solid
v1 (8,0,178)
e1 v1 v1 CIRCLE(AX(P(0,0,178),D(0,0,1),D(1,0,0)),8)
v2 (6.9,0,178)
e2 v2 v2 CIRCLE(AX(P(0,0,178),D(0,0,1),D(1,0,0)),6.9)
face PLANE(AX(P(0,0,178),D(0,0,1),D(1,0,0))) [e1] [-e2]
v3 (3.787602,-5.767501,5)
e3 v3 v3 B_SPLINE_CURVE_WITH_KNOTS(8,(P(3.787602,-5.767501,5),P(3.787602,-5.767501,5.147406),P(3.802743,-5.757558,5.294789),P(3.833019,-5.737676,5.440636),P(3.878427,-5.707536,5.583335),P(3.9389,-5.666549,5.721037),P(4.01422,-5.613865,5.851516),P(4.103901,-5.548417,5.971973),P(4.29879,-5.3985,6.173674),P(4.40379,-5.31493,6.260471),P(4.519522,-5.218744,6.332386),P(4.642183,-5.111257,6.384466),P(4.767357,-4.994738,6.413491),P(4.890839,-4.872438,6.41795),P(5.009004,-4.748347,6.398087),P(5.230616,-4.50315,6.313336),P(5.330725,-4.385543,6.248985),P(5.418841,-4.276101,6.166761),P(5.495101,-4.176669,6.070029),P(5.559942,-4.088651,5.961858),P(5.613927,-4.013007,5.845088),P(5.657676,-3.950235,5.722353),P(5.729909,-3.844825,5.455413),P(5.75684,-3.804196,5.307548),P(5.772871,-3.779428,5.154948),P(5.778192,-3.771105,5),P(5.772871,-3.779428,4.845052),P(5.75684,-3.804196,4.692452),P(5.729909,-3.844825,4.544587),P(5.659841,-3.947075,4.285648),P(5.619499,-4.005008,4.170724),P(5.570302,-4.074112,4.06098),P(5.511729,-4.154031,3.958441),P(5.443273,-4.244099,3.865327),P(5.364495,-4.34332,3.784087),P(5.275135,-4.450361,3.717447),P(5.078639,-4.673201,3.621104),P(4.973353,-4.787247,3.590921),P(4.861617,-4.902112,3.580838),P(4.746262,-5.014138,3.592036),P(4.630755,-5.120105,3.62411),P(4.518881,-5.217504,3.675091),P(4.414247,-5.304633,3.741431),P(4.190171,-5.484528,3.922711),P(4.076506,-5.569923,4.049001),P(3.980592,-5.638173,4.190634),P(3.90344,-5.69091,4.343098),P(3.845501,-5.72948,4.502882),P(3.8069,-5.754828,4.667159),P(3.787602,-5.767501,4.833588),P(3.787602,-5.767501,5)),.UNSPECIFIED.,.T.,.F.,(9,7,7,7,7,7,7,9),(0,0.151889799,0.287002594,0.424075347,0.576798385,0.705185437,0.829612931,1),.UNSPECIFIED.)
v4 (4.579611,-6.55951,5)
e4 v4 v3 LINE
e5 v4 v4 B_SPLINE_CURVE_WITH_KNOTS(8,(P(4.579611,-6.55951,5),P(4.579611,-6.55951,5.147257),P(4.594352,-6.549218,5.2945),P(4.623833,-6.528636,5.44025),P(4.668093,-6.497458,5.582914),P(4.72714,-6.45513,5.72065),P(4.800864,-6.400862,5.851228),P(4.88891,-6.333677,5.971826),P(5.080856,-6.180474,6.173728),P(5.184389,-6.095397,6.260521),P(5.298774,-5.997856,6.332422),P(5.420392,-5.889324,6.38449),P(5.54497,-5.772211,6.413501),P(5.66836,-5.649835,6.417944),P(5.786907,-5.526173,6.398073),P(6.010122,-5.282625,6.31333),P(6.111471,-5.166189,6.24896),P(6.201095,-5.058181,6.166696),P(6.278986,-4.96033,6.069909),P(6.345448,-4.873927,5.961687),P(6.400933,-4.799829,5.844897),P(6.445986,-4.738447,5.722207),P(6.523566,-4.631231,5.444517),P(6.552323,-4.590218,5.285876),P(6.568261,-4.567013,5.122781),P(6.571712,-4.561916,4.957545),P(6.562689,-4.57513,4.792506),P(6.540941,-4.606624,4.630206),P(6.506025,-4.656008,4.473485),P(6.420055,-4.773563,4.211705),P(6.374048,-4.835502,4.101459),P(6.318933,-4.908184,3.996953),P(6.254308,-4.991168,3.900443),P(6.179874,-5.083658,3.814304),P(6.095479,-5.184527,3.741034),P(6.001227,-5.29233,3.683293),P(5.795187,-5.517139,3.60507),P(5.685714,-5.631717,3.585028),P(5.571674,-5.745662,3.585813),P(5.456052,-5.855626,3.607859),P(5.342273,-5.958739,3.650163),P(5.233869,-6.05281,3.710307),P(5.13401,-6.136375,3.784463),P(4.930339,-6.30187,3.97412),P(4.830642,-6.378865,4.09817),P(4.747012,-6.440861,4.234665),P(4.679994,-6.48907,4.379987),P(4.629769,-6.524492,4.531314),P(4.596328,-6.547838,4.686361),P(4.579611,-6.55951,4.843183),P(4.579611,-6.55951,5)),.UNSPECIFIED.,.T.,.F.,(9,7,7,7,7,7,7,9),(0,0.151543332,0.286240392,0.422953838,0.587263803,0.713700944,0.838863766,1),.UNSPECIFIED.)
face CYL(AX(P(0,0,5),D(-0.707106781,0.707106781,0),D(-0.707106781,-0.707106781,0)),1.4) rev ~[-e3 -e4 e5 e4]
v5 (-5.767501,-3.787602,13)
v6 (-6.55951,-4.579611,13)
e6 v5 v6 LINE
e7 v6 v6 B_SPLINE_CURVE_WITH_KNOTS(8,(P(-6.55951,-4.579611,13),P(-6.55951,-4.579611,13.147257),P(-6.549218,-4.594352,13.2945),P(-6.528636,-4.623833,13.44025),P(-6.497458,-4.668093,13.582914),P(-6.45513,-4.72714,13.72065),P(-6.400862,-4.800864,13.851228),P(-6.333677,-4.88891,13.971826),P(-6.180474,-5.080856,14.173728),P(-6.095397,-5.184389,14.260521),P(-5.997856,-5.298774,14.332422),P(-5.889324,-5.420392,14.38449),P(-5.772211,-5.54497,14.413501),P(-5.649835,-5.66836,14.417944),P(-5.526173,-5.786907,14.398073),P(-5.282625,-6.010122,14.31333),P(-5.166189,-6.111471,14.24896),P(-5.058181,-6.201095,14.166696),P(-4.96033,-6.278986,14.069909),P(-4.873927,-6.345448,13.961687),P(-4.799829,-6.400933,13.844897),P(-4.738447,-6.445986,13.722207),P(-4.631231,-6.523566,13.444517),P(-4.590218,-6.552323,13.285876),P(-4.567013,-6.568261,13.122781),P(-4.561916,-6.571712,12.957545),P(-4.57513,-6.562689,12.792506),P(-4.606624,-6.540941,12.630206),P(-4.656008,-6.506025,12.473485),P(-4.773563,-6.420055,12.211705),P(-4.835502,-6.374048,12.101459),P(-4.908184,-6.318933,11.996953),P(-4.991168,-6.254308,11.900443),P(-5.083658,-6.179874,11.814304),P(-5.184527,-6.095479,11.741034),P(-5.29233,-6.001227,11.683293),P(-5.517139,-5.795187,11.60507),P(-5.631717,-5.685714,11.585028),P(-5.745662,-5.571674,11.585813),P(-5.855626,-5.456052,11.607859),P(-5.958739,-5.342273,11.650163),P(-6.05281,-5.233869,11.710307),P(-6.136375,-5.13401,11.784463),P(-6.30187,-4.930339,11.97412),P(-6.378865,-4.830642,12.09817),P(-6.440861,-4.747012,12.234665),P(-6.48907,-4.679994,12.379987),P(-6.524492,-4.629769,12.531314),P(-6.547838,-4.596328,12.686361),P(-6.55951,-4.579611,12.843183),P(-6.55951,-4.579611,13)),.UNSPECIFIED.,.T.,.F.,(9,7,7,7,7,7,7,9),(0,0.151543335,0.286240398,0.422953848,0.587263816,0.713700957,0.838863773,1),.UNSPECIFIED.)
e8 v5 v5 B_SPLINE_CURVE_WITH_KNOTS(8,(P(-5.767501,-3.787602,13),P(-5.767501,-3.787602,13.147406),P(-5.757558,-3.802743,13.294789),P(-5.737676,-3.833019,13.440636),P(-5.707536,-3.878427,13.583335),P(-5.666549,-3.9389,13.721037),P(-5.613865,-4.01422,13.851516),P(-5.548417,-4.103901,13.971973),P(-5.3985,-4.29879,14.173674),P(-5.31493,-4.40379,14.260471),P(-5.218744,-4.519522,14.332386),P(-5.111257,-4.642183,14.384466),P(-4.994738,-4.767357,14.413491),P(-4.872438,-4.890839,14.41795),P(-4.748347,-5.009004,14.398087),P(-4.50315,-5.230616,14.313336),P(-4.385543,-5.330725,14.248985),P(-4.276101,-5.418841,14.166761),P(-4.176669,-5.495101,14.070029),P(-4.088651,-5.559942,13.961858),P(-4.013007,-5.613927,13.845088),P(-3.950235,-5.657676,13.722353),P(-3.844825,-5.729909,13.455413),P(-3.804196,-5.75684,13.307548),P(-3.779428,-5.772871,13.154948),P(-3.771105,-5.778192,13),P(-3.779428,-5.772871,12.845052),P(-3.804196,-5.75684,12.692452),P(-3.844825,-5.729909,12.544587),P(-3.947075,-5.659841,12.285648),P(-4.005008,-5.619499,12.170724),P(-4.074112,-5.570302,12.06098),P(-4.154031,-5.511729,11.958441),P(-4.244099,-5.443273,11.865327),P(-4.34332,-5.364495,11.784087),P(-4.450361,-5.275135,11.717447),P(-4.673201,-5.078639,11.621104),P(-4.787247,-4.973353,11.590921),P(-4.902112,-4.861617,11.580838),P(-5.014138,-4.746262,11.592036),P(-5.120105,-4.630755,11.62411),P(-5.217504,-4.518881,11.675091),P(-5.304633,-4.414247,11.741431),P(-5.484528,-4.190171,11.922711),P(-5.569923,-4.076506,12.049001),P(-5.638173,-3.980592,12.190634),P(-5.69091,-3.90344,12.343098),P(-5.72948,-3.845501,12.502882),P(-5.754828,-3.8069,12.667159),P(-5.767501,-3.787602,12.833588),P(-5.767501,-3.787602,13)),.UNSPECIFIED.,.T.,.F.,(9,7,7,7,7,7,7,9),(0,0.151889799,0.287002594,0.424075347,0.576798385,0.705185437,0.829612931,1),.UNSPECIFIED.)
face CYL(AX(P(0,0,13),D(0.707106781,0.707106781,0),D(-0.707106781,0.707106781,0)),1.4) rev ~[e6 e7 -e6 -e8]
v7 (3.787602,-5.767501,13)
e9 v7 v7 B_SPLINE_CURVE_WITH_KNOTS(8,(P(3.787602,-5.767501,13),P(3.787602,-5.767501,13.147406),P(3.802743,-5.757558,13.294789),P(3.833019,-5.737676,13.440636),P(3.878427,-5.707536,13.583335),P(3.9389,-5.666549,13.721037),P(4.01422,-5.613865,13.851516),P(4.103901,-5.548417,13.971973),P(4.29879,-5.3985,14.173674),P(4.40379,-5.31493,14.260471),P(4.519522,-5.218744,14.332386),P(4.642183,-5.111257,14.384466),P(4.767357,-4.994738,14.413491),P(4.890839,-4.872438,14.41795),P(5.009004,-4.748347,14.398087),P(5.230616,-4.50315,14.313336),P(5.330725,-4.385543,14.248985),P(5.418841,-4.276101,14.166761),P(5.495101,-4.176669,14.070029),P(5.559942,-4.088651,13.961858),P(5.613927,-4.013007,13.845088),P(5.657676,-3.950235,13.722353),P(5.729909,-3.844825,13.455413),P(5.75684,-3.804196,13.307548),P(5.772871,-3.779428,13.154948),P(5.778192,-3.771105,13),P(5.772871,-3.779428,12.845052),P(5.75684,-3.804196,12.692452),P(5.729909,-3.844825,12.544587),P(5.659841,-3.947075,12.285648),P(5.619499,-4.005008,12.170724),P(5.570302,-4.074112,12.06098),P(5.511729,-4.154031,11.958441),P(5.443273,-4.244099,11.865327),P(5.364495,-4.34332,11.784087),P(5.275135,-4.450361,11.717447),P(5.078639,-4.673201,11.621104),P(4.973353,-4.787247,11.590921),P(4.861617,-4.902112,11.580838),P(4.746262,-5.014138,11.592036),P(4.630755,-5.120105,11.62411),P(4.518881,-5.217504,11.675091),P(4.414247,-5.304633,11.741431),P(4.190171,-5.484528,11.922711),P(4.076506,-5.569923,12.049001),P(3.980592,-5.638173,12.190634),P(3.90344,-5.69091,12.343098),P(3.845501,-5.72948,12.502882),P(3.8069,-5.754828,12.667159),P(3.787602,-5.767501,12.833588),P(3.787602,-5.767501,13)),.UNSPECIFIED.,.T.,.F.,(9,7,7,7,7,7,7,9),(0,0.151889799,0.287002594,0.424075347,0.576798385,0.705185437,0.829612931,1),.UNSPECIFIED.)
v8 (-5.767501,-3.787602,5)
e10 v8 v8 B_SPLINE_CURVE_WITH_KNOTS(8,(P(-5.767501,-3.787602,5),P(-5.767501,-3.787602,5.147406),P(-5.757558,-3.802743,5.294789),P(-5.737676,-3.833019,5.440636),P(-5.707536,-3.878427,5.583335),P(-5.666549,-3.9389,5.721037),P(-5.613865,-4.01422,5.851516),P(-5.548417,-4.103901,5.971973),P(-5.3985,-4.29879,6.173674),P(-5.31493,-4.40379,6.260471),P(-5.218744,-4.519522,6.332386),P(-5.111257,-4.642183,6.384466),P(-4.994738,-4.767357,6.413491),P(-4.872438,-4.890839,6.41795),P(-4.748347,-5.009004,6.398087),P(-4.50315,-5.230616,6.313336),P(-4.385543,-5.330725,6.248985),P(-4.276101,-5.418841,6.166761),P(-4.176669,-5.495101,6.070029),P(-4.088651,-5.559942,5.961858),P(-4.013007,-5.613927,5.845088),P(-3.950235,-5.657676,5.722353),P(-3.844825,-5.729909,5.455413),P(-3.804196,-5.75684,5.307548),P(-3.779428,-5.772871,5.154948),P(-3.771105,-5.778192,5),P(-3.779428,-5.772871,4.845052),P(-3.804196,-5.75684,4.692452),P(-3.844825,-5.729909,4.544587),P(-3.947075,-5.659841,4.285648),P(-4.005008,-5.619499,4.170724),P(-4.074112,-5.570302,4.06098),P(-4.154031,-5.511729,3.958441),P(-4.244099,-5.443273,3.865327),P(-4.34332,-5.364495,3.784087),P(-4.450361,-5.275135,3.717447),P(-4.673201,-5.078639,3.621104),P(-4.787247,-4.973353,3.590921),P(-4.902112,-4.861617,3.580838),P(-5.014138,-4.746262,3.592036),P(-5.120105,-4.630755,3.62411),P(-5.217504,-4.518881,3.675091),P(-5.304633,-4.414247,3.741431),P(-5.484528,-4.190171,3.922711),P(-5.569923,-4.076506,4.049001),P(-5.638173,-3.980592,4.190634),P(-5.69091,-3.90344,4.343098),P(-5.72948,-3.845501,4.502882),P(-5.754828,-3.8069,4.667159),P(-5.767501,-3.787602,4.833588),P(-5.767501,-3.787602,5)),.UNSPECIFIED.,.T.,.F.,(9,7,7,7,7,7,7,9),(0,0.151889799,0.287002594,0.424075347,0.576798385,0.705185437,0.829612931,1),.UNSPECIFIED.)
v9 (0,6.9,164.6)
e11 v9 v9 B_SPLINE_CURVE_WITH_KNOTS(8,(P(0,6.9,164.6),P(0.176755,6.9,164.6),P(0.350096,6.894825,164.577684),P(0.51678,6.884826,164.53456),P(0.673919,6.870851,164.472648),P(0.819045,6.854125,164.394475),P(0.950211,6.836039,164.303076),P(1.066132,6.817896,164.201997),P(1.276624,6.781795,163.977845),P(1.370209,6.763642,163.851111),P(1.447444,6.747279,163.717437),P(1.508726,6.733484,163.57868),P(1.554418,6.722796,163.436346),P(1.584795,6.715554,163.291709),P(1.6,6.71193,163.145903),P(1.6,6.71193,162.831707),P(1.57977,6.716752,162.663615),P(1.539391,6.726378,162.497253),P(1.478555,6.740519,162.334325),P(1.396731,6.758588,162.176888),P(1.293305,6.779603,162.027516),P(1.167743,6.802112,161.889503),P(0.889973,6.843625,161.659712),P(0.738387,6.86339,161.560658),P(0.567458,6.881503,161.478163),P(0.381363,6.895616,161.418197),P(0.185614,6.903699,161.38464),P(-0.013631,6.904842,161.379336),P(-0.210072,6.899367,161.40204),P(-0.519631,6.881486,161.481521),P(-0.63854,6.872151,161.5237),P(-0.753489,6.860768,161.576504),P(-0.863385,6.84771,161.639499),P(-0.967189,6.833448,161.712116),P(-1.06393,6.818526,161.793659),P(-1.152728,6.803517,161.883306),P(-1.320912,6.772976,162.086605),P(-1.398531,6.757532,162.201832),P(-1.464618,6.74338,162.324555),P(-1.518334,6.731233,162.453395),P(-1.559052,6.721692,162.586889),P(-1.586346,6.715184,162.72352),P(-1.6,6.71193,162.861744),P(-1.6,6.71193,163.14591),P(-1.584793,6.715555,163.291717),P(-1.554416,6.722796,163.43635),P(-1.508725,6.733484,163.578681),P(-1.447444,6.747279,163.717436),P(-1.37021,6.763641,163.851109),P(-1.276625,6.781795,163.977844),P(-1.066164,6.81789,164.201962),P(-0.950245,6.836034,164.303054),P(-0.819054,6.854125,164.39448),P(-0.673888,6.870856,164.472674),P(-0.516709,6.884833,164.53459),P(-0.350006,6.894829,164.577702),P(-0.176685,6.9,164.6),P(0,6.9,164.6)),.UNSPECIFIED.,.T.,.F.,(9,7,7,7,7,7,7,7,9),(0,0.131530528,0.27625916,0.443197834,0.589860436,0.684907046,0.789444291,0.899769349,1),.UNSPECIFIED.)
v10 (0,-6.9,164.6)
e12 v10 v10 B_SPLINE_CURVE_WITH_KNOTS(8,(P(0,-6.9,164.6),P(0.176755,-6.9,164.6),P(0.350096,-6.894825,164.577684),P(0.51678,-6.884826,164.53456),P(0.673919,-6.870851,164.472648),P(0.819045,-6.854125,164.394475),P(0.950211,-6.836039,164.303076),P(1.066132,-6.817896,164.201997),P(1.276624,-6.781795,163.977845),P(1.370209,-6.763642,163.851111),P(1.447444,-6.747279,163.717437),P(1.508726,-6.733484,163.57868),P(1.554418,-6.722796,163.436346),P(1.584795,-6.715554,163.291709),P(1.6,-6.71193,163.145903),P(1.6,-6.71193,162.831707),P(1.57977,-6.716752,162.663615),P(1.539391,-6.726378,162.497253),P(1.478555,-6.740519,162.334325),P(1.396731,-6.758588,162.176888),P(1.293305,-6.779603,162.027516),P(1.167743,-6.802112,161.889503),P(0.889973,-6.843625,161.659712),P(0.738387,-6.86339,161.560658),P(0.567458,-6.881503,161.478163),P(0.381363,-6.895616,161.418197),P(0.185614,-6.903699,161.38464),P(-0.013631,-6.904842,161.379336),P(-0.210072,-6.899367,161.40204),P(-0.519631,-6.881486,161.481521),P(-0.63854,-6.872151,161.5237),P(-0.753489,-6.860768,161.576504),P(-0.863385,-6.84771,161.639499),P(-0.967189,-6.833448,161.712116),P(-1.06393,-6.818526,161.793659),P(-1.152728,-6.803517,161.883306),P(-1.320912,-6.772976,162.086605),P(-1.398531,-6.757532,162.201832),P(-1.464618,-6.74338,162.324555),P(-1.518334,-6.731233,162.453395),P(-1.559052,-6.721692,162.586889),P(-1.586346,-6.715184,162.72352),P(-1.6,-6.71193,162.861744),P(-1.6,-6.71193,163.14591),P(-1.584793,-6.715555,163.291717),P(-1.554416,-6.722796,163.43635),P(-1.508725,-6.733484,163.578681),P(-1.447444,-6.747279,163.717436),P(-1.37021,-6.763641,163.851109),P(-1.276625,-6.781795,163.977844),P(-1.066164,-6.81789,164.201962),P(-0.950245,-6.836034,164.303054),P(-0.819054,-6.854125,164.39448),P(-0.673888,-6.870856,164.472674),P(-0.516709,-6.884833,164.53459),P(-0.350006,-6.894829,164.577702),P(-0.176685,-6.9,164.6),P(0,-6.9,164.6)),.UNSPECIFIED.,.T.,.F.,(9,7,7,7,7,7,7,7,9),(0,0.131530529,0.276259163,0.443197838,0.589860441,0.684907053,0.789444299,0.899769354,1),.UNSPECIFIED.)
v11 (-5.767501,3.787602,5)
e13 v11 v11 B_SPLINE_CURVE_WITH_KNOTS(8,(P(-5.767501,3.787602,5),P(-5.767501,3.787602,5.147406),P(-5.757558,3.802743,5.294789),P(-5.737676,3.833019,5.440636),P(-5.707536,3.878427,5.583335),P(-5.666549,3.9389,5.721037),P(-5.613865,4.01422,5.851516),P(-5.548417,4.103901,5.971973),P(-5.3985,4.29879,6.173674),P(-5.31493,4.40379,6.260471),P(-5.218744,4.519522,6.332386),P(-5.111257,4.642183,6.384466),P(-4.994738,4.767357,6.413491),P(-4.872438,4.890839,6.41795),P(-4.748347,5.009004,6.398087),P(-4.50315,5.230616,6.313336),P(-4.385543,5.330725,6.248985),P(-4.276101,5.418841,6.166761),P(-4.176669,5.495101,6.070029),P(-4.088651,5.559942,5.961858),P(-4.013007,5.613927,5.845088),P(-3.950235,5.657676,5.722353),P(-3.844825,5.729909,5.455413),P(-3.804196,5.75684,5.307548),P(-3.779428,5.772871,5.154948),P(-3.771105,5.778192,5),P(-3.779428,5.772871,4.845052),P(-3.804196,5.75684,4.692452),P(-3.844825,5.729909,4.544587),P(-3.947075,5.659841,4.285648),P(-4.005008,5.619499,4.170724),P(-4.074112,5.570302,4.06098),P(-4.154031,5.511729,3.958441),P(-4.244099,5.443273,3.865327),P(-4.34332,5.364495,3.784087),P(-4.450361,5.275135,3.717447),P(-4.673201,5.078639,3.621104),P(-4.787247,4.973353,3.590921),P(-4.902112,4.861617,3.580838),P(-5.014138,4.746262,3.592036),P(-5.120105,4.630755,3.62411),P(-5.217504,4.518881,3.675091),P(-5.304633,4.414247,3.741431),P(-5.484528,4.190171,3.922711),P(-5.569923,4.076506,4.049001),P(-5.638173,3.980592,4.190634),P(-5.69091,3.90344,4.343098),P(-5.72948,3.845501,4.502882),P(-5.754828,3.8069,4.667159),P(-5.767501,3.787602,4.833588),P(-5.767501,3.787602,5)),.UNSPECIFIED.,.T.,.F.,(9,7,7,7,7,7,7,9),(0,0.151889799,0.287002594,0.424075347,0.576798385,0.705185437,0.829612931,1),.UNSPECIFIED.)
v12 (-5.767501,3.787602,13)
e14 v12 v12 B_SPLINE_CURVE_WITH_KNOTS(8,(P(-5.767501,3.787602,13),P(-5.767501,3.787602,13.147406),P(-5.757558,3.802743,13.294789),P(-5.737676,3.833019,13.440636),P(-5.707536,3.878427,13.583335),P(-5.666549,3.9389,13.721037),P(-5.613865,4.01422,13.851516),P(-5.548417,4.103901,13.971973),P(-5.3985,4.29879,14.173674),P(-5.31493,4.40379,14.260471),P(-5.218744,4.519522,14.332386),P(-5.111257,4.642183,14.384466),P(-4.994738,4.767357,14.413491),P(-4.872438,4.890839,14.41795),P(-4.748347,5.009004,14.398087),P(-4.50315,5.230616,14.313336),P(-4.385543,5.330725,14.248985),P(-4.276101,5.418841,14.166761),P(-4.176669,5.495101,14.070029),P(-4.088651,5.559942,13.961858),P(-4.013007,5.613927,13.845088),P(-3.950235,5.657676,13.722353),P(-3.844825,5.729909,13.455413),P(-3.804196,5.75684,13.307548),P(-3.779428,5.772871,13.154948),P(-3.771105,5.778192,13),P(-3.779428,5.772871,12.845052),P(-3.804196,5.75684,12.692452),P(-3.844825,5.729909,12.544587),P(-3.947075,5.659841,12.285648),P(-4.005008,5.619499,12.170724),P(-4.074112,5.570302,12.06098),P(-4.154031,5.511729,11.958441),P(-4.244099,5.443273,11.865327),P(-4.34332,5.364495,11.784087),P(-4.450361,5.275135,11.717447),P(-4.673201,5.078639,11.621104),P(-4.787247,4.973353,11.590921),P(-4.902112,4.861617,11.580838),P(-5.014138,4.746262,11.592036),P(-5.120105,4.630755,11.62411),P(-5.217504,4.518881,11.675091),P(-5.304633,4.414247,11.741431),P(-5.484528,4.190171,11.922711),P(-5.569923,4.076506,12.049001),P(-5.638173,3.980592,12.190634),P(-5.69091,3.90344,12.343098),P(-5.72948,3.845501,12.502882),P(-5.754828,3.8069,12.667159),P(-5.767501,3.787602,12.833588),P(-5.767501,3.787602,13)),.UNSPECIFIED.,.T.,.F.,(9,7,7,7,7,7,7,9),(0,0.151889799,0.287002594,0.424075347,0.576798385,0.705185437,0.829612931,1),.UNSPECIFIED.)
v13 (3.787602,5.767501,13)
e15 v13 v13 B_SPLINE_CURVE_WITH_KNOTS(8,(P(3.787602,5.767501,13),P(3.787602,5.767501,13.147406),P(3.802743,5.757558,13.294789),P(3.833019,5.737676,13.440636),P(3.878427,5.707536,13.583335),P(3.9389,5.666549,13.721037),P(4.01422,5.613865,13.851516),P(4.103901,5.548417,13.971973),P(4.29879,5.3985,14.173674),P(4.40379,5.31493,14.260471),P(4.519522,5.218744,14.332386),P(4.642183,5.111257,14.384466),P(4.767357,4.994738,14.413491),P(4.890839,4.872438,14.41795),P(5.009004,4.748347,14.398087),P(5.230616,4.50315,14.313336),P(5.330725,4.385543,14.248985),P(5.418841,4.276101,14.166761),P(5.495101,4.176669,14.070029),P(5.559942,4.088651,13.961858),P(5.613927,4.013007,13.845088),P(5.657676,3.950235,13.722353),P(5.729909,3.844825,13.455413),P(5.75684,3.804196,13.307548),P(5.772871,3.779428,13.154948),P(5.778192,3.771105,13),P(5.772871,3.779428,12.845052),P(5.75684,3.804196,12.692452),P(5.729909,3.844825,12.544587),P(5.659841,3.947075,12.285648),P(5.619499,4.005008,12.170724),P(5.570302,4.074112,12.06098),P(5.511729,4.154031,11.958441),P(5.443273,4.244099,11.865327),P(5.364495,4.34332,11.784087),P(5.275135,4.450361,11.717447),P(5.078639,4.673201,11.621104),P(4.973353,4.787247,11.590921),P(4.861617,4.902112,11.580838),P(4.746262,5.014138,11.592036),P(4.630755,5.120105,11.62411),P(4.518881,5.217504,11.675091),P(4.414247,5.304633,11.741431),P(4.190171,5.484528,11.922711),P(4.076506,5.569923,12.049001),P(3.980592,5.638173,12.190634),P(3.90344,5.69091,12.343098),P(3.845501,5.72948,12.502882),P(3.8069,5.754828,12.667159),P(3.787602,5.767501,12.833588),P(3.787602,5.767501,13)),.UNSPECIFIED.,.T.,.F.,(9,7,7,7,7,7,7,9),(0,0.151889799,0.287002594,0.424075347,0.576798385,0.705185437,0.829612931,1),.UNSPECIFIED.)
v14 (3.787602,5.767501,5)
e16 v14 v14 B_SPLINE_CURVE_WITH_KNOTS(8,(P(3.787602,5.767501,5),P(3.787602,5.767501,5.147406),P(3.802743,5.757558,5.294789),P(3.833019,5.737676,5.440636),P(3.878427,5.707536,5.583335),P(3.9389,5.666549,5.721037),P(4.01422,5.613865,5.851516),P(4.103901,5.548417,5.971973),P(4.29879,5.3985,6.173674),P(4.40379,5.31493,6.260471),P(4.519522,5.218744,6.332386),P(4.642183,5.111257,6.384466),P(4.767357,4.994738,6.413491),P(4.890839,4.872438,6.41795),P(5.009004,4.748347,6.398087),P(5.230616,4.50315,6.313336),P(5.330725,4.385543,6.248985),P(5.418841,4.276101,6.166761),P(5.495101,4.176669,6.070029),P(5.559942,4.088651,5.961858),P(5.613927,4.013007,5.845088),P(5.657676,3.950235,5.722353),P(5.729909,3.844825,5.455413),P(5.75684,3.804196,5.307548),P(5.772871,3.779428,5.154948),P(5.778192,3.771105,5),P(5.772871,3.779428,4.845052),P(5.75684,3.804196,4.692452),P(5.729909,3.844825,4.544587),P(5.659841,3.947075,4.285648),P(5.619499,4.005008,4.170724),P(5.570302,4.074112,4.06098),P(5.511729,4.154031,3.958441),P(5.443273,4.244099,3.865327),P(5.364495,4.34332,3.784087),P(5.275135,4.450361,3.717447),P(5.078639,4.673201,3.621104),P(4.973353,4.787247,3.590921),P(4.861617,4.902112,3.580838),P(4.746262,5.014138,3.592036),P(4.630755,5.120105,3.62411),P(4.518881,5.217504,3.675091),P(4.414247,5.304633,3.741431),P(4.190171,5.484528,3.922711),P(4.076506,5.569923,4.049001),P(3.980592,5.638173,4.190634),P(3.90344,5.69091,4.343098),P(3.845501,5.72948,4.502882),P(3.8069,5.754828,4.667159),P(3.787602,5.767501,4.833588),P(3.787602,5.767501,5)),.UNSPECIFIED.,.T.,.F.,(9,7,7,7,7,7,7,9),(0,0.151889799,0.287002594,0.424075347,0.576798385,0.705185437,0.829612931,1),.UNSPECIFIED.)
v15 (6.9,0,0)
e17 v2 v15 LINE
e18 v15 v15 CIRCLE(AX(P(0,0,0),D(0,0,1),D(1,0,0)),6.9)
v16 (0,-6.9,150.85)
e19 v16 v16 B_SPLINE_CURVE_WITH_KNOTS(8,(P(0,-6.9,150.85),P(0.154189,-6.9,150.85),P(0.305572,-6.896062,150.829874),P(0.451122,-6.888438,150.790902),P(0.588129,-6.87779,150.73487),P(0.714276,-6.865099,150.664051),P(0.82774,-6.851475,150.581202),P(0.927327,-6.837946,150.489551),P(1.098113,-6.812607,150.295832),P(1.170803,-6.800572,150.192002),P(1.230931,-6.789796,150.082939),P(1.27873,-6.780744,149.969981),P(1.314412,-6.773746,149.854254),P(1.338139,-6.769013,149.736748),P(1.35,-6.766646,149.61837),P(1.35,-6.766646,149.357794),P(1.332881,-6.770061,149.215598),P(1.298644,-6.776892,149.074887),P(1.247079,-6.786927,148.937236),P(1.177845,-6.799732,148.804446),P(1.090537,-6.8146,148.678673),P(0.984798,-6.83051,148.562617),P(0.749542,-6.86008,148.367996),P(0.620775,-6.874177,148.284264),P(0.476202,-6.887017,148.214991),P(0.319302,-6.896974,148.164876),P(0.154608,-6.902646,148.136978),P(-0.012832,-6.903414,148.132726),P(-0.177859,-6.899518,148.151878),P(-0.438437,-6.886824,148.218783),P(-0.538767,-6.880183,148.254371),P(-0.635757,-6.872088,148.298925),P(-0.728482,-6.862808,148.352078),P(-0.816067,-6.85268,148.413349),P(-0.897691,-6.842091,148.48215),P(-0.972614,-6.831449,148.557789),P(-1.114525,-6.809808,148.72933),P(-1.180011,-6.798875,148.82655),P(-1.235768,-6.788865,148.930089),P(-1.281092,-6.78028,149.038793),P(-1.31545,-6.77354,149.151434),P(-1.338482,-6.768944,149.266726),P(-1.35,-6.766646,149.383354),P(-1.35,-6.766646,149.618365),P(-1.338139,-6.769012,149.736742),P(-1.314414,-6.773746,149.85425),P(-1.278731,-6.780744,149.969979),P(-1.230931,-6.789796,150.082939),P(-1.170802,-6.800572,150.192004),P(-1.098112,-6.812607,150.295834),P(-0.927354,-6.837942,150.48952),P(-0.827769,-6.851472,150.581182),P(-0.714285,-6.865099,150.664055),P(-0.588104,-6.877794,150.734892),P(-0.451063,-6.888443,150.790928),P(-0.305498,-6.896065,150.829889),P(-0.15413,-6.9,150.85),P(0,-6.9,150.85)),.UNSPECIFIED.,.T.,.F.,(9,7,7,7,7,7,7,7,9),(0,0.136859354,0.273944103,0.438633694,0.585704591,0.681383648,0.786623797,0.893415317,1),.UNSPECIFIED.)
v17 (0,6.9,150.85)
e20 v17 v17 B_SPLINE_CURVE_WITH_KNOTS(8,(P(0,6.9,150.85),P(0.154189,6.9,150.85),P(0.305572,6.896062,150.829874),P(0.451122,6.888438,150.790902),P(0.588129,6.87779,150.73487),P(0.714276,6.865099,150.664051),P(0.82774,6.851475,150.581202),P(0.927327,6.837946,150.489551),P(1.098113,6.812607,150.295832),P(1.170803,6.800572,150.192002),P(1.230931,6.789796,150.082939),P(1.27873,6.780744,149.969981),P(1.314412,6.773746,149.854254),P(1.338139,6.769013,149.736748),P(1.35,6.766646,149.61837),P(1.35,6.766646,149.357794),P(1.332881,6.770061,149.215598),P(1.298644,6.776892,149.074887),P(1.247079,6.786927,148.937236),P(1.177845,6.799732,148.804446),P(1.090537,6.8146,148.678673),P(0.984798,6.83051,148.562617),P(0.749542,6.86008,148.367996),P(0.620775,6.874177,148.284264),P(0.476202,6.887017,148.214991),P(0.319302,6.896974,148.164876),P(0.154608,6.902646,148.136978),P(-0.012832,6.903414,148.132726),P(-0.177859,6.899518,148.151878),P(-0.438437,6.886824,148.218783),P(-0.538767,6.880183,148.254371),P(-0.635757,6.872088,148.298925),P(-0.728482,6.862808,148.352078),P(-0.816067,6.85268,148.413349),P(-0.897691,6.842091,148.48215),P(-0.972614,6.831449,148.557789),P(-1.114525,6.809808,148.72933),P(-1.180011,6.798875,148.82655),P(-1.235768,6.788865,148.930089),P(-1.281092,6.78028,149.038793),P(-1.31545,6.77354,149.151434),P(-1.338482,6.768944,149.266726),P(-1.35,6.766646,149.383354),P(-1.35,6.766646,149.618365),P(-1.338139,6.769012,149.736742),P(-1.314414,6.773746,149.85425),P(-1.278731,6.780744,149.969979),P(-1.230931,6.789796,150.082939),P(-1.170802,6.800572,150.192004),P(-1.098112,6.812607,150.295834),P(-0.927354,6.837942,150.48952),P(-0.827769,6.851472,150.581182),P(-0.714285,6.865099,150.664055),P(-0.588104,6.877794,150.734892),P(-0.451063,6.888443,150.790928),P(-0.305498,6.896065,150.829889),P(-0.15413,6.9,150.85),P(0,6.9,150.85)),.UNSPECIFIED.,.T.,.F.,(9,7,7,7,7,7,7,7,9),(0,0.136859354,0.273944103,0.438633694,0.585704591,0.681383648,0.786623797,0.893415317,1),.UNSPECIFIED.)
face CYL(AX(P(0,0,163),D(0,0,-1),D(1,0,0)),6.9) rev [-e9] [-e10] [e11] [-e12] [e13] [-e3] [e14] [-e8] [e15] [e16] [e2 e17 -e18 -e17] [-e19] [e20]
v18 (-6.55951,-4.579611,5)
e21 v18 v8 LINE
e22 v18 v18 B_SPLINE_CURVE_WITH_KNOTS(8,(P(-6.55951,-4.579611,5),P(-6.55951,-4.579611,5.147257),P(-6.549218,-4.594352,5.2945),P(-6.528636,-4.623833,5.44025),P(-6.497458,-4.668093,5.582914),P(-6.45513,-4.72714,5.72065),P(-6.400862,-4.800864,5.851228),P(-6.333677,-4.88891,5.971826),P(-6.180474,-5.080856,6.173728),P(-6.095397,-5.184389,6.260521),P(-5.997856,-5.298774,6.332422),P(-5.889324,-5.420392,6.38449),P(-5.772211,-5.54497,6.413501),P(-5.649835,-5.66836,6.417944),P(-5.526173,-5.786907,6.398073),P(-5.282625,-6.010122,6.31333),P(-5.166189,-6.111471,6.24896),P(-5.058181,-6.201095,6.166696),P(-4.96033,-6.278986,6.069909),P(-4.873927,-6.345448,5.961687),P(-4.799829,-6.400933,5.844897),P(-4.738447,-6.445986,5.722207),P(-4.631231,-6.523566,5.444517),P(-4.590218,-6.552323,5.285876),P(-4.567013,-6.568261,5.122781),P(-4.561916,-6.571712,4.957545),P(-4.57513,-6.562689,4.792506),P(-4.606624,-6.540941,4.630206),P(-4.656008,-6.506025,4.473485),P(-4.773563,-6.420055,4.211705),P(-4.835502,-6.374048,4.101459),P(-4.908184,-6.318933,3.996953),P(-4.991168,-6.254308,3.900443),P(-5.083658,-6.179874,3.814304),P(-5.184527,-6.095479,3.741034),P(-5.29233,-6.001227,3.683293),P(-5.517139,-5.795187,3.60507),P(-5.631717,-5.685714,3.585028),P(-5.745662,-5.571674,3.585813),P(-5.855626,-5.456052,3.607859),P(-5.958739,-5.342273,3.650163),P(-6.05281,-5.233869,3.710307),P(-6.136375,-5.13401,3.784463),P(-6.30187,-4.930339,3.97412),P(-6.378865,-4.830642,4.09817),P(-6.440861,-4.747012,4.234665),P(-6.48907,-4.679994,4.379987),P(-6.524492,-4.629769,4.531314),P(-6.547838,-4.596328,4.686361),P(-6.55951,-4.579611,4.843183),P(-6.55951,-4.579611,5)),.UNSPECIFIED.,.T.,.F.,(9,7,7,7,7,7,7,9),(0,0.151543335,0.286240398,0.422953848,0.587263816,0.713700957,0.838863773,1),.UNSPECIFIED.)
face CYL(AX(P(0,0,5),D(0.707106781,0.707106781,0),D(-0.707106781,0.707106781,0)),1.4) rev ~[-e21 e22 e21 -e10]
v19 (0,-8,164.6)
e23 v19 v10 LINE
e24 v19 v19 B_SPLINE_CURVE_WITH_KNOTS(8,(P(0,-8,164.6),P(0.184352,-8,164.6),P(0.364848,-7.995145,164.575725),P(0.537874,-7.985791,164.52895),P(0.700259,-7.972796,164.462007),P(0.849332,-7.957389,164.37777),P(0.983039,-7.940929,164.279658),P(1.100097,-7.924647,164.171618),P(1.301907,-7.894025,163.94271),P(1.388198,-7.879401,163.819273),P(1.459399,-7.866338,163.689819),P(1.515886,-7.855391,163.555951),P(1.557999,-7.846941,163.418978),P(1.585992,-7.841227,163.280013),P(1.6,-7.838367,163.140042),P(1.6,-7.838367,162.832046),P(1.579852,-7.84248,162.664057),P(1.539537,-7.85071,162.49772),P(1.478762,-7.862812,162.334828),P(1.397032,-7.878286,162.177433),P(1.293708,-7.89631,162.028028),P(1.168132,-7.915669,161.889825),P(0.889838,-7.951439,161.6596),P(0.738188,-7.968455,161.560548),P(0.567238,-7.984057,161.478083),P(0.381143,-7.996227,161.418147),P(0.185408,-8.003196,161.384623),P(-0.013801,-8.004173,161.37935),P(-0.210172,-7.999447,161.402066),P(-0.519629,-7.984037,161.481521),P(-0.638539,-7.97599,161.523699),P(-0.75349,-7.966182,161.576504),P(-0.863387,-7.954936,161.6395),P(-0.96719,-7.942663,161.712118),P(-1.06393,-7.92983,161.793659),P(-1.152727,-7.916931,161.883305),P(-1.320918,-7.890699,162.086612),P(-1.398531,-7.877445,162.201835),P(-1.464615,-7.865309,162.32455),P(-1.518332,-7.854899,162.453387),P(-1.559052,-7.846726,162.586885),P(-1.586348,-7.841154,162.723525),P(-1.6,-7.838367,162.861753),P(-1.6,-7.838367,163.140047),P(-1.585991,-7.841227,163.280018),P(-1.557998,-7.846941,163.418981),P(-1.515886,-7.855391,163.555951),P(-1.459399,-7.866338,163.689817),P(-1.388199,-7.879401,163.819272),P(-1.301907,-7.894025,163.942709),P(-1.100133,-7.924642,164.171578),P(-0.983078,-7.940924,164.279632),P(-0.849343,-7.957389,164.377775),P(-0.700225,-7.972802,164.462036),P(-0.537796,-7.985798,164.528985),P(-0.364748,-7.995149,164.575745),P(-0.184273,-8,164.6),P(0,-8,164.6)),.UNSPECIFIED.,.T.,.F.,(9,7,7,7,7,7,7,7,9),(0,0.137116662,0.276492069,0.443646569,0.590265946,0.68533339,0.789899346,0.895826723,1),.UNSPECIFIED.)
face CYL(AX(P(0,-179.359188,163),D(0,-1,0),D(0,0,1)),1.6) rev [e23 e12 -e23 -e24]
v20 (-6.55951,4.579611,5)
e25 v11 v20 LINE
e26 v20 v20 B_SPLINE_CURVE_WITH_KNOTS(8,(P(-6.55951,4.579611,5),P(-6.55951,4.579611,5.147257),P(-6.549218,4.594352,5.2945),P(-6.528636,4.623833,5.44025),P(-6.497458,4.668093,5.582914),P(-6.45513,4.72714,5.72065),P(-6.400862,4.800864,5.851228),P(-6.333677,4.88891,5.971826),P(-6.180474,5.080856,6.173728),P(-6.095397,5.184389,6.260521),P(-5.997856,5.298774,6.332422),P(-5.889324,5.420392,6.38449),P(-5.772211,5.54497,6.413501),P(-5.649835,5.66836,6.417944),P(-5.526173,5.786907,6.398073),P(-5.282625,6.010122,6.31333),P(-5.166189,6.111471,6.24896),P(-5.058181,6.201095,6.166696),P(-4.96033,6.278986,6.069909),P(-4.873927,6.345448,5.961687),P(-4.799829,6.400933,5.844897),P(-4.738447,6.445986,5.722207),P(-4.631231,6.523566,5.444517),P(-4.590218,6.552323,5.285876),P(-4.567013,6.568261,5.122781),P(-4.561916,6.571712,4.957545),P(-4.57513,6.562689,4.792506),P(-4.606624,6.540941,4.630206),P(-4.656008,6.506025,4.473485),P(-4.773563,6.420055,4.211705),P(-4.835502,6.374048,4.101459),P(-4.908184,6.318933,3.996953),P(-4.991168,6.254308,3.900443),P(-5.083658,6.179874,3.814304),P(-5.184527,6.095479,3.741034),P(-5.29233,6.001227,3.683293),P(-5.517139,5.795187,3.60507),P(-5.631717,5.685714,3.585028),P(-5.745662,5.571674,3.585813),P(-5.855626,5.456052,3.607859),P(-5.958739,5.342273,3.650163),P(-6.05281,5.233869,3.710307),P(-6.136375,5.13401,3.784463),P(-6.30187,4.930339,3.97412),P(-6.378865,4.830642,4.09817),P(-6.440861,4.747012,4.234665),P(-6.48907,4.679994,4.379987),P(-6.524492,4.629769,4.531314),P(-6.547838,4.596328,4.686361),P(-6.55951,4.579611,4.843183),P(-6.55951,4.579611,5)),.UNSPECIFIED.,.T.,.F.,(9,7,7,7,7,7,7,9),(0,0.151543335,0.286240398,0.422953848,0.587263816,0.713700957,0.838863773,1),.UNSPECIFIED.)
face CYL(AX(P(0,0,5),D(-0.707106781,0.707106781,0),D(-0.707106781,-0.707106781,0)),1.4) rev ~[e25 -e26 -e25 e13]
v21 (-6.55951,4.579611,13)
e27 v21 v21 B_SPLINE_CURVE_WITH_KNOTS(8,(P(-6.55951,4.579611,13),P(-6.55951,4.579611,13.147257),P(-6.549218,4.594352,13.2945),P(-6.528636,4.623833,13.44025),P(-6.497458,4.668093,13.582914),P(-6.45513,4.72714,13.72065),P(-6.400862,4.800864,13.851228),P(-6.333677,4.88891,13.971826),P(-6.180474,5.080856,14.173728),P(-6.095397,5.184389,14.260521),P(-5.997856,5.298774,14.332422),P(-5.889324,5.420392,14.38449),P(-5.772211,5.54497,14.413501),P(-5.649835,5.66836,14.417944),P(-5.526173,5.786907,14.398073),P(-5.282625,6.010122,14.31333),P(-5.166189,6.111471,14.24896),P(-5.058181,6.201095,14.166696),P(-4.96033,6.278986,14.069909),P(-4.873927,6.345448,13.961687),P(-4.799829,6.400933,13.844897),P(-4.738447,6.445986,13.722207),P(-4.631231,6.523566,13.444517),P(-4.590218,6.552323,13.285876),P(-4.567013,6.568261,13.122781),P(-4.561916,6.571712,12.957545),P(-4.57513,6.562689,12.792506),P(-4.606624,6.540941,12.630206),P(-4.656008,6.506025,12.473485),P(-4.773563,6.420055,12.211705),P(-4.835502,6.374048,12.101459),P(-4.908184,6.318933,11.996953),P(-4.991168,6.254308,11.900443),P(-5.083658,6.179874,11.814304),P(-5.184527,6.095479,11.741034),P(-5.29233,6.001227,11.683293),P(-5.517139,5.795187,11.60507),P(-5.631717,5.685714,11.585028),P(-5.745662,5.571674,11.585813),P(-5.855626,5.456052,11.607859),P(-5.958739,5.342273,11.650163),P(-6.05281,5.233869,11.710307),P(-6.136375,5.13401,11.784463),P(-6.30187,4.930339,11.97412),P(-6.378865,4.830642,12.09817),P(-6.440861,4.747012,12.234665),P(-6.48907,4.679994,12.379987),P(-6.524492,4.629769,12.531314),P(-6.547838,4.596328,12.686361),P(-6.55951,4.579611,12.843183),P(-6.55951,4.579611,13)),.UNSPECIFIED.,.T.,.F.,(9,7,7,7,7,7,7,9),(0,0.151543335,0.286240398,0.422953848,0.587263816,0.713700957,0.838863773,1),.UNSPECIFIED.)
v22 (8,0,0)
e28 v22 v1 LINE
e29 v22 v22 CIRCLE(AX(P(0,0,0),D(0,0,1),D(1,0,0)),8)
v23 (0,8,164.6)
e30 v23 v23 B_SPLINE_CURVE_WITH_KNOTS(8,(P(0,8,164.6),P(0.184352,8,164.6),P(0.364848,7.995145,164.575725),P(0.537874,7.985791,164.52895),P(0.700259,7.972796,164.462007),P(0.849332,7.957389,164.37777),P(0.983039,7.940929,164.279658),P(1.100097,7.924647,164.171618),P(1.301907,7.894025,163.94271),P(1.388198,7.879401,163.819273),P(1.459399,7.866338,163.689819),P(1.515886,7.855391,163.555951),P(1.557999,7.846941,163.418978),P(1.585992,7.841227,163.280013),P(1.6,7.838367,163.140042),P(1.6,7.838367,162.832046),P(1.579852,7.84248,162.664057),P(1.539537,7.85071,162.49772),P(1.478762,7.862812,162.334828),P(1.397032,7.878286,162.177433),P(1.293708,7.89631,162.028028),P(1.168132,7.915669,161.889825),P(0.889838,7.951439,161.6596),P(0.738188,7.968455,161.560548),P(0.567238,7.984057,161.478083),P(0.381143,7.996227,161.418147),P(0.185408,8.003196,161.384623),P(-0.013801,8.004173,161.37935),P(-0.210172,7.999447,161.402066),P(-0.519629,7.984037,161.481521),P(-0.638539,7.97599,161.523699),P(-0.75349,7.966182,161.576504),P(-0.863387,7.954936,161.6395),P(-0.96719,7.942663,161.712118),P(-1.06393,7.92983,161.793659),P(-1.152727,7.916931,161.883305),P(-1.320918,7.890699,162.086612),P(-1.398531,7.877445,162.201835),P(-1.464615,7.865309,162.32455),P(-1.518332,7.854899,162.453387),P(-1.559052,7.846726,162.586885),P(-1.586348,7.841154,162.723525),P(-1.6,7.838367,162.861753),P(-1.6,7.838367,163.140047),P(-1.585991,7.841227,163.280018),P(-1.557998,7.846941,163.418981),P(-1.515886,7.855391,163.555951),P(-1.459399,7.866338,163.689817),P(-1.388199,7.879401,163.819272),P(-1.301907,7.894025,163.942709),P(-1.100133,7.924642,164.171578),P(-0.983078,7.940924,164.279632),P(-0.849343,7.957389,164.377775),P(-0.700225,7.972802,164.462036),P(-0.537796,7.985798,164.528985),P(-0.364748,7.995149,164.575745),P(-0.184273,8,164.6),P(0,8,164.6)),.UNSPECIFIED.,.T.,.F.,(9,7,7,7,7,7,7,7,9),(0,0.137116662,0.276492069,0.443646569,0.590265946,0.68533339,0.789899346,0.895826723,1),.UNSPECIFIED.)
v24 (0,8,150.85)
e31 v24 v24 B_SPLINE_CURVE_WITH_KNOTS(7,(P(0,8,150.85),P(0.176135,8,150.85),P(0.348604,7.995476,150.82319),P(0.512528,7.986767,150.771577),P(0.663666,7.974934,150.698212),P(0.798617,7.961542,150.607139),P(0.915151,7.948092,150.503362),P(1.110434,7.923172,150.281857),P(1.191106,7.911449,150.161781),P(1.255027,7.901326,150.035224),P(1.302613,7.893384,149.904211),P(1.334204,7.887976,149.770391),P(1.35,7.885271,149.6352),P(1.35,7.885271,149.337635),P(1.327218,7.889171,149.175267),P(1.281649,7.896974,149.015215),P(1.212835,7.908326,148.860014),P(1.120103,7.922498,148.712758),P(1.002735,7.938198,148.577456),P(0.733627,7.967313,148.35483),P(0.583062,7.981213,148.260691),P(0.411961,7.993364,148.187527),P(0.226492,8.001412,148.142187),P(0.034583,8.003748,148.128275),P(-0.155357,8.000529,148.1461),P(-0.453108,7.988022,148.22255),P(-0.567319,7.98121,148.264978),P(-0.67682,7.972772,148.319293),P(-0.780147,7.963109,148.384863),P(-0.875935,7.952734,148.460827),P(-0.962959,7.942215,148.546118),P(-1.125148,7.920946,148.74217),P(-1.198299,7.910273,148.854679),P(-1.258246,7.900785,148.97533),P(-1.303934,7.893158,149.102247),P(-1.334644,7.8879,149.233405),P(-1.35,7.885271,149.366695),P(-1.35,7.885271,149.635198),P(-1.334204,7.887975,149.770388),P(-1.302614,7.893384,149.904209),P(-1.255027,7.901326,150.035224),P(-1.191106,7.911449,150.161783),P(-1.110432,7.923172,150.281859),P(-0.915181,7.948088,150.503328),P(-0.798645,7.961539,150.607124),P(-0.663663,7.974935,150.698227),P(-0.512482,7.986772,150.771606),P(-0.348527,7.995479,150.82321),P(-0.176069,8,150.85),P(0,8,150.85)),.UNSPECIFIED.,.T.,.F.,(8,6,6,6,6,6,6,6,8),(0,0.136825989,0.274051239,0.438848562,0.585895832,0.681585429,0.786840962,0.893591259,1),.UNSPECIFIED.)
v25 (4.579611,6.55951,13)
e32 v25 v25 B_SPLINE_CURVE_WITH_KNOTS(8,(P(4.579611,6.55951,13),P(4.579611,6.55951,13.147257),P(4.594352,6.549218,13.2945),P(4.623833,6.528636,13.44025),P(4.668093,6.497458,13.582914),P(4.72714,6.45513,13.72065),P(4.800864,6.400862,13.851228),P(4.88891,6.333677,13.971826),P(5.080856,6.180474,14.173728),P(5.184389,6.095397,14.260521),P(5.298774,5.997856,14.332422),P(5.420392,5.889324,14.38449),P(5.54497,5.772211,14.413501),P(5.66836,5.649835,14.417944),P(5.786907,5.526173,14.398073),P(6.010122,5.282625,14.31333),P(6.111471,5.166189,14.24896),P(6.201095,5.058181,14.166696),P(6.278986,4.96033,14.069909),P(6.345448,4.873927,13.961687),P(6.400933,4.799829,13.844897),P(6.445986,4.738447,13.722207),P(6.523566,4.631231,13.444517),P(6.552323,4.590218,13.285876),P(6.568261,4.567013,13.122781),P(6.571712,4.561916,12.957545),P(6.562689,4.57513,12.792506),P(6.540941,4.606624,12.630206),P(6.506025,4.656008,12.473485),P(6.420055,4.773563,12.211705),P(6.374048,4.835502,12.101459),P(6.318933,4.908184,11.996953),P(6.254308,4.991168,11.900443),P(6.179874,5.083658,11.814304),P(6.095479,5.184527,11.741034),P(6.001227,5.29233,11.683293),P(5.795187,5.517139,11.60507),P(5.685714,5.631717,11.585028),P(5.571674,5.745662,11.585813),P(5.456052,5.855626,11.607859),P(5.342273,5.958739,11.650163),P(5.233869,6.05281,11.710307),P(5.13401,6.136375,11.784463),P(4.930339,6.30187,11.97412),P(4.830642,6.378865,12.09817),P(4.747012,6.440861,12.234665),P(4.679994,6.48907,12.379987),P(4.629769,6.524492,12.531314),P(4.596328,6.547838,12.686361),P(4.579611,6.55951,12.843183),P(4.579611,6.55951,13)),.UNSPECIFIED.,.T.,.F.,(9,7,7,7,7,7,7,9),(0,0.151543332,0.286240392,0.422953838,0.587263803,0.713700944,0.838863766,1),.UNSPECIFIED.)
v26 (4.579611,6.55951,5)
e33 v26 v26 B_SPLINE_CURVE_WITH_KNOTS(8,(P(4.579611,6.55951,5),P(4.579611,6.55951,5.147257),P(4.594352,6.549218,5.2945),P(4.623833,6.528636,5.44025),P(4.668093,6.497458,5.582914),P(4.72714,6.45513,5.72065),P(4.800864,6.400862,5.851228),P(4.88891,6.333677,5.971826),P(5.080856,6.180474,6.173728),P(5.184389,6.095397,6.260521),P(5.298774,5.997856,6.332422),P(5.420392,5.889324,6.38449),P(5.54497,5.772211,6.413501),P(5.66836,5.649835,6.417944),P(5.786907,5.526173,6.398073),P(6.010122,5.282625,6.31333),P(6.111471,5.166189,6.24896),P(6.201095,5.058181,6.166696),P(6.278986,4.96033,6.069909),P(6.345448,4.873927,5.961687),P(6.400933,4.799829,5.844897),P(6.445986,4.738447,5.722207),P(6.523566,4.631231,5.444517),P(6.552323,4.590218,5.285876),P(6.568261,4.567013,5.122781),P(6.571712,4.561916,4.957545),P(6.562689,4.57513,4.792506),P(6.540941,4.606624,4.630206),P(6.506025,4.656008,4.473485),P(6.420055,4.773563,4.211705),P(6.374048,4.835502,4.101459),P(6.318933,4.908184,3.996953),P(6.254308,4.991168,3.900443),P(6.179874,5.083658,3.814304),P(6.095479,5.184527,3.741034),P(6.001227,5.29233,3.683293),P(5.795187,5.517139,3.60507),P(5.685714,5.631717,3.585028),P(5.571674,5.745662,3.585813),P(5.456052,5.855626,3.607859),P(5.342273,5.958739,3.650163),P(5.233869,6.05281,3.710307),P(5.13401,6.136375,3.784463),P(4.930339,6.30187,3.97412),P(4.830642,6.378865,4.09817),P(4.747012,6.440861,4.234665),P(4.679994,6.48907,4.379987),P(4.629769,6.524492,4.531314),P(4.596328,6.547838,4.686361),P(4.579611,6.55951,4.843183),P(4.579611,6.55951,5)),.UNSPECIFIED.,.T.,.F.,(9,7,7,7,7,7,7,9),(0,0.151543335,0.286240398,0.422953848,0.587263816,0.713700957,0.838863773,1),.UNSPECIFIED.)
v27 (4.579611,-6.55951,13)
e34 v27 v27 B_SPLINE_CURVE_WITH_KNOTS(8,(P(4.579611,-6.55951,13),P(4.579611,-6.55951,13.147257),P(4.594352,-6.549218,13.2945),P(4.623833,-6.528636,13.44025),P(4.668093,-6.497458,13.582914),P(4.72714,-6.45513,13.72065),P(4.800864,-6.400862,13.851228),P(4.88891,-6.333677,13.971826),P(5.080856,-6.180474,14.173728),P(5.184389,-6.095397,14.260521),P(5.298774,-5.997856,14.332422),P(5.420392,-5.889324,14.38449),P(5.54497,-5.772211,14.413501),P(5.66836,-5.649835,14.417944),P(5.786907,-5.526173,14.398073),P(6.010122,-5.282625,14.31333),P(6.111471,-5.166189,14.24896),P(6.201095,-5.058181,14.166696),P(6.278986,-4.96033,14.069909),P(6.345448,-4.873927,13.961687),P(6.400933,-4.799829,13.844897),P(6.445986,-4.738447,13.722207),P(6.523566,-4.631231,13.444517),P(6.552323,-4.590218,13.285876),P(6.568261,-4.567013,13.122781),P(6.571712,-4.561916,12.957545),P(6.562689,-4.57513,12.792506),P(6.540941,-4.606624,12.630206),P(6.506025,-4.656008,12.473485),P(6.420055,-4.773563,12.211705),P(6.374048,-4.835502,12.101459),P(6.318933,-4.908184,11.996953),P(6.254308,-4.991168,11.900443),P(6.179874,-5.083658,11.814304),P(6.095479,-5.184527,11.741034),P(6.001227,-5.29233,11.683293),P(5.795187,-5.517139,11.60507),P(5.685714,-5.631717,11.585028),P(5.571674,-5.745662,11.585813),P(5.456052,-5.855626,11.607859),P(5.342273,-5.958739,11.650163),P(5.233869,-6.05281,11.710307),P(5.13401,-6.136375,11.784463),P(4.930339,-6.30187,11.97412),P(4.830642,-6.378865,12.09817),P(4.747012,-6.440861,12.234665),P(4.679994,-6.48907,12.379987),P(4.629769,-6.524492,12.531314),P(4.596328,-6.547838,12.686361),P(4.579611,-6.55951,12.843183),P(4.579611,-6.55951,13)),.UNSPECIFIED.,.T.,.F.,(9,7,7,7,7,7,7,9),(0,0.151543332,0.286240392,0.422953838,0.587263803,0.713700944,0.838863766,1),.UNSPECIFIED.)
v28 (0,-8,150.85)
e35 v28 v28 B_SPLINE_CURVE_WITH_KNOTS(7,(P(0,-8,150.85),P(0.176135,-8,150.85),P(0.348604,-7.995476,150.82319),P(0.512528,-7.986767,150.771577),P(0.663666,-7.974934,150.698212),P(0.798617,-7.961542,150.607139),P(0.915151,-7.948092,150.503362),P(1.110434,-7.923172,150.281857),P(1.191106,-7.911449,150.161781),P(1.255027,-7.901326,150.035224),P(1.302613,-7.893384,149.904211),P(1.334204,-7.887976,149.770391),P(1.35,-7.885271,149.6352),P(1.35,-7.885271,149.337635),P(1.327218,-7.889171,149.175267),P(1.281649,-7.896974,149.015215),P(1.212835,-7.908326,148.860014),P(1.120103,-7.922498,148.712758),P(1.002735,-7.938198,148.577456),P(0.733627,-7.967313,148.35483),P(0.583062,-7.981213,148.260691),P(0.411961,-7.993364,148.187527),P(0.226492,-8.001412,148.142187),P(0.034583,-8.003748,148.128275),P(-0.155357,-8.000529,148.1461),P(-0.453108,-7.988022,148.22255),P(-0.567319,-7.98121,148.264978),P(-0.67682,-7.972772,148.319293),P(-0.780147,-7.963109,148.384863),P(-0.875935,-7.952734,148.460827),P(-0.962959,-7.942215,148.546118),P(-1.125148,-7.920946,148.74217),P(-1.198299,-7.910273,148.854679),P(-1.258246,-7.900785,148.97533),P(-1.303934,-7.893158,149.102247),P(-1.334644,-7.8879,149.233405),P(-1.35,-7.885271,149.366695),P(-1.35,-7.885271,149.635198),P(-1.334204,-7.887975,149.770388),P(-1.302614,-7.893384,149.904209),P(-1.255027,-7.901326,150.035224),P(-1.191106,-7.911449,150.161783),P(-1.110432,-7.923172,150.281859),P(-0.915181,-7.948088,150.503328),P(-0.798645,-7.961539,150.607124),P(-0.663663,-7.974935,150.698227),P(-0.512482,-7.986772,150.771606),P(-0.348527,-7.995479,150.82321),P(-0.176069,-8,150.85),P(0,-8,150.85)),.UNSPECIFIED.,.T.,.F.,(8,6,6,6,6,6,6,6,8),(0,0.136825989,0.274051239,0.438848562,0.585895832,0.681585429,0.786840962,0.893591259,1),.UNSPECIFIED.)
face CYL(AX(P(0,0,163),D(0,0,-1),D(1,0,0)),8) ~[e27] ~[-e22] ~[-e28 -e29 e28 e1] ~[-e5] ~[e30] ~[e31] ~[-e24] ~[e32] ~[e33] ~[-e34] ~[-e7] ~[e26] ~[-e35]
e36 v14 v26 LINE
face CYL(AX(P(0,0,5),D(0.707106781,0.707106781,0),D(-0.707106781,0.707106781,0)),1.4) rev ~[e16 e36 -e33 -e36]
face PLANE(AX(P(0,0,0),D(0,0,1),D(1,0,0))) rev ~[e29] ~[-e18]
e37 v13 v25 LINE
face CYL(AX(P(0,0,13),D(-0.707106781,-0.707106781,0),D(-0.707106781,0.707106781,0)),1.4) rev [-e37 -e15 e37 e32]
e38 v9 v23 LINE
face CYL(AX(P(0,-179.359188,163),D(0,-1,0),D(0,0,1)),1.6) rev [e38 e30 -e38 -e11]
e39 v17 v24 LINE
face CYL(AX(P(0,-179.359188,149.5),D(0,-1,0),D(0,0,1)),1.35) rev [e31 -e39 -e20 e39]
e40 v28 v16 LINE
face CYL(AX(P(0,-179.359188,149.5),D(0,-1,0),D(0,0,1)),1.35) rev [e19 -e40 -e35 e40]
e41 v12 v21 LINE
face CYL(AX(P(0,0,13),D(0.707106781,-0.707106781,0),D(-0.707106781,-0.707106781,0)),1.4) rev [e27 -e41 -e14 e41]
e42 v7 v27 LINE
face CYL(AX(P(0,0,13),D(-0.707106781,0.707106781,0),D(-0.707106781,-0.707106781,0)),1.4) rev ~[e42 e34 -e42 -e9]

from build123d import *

# Parameters (mm, degrees)
SKETCH1_R               = 8
SKETCH1_R_2             = 6.9
BOSS_EXTRUDE1_DEPTH     = 163
SKETCH3_R               = 8
SKETCH3_R_2             = 6.9
BOSS_EXTRUDE3_DEPTH     = 15
CUT_EXTRUDE1_DEPTH      = 179.359188157
CUT_EXTRUDE1_DEPTH_BACK = 179.359188157
SKETCH2_R               = 1.6
SKETCH2_R_2             = 1.35
SKETCH4_R               = 1.4
CUT_EXTRUDE2_DEPTH      = 179.359188267
CIRPATTERN1_COUNT       = 2
CIRPATTERN1_ANGLE       = 90


with BuildPart() as part:
    # Sketch1 → Boss-Extrude1 (new body)
    with BuildSketch(Plane.XY):
        Circle(SKETCH1_R)
        Circle(SKETCH1_R_2, mode=Mode.SUBTRACT)
    extrude(amount=BOSS_EXTRUDE1_DEPTH)

    # Sketch3 → Boss-Extrude3 (add)
    with BuildSketch(Plane.XY.offset(163)):
        Circle(SKETCH3_R)
        Circle(SKETCH3_R_2, mode=Mode.SUBTRACT)
    extrude(amount=BOSS_EXTRUDE3_DEPTH)

    # Sketch2 → Cut-Extrude1 (cut, two sides: drawn at the far end of the back side and taken through both)
    with BuildSketch(Plane(origin=(0, 0, 0), x_dir=(1, 0, 0), z_dir=(0, 1, 0)).offset(-CUT_EXTRUDE1_DEPTH_BACK)):
        with Locations(Location((0, -163, 0), (0, 0, 270))):
            Circle(SKETCH2_R)
        with Locations(Location((0, -149.5, 0), (0, 0, 270))):
            Circle(SKETCH2_R_2)
    extrude(amount=CUT_EXTRUDE1_DEPTH + CUT_EXTRUDE1_DEPTH_BACK, mode=Mode.SUBTRACT)

    # Sketch4 → Cut-Extrude2 (cut, symmetric)
    with BuildSketch(Plane(origin=(0, 0, 0), x_dir=(0, 0, 1), z_dir=(0.7071067811865464, 0.7071067811865488, 0))):
        with Locations(Location((13, 0, 0), (0, 0, 270))):
            Circle(SKETCH4_R)
        with Locations(Location((5, 0, 0), (0, 0, 270))):
            Circle(SKETCH4_R)
    cut_extrude2 = extrude(amount=CUT_EXTRUDE2_DEPTH, both=True, mode=Mode.SUBTRACT)

    # CirPattern1: Cut-Extrude2 ×2 about axis
    cirpattern1_axis = Axis((0, 0, -8.9), (0, 0, 1))
    for i in range(1, CIRPATTERN1_COUNT):
        add(cut_extrude2.rotate(cirpattern1_axis, i * CIRPATTERN1_ANGLE / (CIRPATTERN1_COUNT - 1)), mode=Mode.SUBTRACT)


solid = part.part
